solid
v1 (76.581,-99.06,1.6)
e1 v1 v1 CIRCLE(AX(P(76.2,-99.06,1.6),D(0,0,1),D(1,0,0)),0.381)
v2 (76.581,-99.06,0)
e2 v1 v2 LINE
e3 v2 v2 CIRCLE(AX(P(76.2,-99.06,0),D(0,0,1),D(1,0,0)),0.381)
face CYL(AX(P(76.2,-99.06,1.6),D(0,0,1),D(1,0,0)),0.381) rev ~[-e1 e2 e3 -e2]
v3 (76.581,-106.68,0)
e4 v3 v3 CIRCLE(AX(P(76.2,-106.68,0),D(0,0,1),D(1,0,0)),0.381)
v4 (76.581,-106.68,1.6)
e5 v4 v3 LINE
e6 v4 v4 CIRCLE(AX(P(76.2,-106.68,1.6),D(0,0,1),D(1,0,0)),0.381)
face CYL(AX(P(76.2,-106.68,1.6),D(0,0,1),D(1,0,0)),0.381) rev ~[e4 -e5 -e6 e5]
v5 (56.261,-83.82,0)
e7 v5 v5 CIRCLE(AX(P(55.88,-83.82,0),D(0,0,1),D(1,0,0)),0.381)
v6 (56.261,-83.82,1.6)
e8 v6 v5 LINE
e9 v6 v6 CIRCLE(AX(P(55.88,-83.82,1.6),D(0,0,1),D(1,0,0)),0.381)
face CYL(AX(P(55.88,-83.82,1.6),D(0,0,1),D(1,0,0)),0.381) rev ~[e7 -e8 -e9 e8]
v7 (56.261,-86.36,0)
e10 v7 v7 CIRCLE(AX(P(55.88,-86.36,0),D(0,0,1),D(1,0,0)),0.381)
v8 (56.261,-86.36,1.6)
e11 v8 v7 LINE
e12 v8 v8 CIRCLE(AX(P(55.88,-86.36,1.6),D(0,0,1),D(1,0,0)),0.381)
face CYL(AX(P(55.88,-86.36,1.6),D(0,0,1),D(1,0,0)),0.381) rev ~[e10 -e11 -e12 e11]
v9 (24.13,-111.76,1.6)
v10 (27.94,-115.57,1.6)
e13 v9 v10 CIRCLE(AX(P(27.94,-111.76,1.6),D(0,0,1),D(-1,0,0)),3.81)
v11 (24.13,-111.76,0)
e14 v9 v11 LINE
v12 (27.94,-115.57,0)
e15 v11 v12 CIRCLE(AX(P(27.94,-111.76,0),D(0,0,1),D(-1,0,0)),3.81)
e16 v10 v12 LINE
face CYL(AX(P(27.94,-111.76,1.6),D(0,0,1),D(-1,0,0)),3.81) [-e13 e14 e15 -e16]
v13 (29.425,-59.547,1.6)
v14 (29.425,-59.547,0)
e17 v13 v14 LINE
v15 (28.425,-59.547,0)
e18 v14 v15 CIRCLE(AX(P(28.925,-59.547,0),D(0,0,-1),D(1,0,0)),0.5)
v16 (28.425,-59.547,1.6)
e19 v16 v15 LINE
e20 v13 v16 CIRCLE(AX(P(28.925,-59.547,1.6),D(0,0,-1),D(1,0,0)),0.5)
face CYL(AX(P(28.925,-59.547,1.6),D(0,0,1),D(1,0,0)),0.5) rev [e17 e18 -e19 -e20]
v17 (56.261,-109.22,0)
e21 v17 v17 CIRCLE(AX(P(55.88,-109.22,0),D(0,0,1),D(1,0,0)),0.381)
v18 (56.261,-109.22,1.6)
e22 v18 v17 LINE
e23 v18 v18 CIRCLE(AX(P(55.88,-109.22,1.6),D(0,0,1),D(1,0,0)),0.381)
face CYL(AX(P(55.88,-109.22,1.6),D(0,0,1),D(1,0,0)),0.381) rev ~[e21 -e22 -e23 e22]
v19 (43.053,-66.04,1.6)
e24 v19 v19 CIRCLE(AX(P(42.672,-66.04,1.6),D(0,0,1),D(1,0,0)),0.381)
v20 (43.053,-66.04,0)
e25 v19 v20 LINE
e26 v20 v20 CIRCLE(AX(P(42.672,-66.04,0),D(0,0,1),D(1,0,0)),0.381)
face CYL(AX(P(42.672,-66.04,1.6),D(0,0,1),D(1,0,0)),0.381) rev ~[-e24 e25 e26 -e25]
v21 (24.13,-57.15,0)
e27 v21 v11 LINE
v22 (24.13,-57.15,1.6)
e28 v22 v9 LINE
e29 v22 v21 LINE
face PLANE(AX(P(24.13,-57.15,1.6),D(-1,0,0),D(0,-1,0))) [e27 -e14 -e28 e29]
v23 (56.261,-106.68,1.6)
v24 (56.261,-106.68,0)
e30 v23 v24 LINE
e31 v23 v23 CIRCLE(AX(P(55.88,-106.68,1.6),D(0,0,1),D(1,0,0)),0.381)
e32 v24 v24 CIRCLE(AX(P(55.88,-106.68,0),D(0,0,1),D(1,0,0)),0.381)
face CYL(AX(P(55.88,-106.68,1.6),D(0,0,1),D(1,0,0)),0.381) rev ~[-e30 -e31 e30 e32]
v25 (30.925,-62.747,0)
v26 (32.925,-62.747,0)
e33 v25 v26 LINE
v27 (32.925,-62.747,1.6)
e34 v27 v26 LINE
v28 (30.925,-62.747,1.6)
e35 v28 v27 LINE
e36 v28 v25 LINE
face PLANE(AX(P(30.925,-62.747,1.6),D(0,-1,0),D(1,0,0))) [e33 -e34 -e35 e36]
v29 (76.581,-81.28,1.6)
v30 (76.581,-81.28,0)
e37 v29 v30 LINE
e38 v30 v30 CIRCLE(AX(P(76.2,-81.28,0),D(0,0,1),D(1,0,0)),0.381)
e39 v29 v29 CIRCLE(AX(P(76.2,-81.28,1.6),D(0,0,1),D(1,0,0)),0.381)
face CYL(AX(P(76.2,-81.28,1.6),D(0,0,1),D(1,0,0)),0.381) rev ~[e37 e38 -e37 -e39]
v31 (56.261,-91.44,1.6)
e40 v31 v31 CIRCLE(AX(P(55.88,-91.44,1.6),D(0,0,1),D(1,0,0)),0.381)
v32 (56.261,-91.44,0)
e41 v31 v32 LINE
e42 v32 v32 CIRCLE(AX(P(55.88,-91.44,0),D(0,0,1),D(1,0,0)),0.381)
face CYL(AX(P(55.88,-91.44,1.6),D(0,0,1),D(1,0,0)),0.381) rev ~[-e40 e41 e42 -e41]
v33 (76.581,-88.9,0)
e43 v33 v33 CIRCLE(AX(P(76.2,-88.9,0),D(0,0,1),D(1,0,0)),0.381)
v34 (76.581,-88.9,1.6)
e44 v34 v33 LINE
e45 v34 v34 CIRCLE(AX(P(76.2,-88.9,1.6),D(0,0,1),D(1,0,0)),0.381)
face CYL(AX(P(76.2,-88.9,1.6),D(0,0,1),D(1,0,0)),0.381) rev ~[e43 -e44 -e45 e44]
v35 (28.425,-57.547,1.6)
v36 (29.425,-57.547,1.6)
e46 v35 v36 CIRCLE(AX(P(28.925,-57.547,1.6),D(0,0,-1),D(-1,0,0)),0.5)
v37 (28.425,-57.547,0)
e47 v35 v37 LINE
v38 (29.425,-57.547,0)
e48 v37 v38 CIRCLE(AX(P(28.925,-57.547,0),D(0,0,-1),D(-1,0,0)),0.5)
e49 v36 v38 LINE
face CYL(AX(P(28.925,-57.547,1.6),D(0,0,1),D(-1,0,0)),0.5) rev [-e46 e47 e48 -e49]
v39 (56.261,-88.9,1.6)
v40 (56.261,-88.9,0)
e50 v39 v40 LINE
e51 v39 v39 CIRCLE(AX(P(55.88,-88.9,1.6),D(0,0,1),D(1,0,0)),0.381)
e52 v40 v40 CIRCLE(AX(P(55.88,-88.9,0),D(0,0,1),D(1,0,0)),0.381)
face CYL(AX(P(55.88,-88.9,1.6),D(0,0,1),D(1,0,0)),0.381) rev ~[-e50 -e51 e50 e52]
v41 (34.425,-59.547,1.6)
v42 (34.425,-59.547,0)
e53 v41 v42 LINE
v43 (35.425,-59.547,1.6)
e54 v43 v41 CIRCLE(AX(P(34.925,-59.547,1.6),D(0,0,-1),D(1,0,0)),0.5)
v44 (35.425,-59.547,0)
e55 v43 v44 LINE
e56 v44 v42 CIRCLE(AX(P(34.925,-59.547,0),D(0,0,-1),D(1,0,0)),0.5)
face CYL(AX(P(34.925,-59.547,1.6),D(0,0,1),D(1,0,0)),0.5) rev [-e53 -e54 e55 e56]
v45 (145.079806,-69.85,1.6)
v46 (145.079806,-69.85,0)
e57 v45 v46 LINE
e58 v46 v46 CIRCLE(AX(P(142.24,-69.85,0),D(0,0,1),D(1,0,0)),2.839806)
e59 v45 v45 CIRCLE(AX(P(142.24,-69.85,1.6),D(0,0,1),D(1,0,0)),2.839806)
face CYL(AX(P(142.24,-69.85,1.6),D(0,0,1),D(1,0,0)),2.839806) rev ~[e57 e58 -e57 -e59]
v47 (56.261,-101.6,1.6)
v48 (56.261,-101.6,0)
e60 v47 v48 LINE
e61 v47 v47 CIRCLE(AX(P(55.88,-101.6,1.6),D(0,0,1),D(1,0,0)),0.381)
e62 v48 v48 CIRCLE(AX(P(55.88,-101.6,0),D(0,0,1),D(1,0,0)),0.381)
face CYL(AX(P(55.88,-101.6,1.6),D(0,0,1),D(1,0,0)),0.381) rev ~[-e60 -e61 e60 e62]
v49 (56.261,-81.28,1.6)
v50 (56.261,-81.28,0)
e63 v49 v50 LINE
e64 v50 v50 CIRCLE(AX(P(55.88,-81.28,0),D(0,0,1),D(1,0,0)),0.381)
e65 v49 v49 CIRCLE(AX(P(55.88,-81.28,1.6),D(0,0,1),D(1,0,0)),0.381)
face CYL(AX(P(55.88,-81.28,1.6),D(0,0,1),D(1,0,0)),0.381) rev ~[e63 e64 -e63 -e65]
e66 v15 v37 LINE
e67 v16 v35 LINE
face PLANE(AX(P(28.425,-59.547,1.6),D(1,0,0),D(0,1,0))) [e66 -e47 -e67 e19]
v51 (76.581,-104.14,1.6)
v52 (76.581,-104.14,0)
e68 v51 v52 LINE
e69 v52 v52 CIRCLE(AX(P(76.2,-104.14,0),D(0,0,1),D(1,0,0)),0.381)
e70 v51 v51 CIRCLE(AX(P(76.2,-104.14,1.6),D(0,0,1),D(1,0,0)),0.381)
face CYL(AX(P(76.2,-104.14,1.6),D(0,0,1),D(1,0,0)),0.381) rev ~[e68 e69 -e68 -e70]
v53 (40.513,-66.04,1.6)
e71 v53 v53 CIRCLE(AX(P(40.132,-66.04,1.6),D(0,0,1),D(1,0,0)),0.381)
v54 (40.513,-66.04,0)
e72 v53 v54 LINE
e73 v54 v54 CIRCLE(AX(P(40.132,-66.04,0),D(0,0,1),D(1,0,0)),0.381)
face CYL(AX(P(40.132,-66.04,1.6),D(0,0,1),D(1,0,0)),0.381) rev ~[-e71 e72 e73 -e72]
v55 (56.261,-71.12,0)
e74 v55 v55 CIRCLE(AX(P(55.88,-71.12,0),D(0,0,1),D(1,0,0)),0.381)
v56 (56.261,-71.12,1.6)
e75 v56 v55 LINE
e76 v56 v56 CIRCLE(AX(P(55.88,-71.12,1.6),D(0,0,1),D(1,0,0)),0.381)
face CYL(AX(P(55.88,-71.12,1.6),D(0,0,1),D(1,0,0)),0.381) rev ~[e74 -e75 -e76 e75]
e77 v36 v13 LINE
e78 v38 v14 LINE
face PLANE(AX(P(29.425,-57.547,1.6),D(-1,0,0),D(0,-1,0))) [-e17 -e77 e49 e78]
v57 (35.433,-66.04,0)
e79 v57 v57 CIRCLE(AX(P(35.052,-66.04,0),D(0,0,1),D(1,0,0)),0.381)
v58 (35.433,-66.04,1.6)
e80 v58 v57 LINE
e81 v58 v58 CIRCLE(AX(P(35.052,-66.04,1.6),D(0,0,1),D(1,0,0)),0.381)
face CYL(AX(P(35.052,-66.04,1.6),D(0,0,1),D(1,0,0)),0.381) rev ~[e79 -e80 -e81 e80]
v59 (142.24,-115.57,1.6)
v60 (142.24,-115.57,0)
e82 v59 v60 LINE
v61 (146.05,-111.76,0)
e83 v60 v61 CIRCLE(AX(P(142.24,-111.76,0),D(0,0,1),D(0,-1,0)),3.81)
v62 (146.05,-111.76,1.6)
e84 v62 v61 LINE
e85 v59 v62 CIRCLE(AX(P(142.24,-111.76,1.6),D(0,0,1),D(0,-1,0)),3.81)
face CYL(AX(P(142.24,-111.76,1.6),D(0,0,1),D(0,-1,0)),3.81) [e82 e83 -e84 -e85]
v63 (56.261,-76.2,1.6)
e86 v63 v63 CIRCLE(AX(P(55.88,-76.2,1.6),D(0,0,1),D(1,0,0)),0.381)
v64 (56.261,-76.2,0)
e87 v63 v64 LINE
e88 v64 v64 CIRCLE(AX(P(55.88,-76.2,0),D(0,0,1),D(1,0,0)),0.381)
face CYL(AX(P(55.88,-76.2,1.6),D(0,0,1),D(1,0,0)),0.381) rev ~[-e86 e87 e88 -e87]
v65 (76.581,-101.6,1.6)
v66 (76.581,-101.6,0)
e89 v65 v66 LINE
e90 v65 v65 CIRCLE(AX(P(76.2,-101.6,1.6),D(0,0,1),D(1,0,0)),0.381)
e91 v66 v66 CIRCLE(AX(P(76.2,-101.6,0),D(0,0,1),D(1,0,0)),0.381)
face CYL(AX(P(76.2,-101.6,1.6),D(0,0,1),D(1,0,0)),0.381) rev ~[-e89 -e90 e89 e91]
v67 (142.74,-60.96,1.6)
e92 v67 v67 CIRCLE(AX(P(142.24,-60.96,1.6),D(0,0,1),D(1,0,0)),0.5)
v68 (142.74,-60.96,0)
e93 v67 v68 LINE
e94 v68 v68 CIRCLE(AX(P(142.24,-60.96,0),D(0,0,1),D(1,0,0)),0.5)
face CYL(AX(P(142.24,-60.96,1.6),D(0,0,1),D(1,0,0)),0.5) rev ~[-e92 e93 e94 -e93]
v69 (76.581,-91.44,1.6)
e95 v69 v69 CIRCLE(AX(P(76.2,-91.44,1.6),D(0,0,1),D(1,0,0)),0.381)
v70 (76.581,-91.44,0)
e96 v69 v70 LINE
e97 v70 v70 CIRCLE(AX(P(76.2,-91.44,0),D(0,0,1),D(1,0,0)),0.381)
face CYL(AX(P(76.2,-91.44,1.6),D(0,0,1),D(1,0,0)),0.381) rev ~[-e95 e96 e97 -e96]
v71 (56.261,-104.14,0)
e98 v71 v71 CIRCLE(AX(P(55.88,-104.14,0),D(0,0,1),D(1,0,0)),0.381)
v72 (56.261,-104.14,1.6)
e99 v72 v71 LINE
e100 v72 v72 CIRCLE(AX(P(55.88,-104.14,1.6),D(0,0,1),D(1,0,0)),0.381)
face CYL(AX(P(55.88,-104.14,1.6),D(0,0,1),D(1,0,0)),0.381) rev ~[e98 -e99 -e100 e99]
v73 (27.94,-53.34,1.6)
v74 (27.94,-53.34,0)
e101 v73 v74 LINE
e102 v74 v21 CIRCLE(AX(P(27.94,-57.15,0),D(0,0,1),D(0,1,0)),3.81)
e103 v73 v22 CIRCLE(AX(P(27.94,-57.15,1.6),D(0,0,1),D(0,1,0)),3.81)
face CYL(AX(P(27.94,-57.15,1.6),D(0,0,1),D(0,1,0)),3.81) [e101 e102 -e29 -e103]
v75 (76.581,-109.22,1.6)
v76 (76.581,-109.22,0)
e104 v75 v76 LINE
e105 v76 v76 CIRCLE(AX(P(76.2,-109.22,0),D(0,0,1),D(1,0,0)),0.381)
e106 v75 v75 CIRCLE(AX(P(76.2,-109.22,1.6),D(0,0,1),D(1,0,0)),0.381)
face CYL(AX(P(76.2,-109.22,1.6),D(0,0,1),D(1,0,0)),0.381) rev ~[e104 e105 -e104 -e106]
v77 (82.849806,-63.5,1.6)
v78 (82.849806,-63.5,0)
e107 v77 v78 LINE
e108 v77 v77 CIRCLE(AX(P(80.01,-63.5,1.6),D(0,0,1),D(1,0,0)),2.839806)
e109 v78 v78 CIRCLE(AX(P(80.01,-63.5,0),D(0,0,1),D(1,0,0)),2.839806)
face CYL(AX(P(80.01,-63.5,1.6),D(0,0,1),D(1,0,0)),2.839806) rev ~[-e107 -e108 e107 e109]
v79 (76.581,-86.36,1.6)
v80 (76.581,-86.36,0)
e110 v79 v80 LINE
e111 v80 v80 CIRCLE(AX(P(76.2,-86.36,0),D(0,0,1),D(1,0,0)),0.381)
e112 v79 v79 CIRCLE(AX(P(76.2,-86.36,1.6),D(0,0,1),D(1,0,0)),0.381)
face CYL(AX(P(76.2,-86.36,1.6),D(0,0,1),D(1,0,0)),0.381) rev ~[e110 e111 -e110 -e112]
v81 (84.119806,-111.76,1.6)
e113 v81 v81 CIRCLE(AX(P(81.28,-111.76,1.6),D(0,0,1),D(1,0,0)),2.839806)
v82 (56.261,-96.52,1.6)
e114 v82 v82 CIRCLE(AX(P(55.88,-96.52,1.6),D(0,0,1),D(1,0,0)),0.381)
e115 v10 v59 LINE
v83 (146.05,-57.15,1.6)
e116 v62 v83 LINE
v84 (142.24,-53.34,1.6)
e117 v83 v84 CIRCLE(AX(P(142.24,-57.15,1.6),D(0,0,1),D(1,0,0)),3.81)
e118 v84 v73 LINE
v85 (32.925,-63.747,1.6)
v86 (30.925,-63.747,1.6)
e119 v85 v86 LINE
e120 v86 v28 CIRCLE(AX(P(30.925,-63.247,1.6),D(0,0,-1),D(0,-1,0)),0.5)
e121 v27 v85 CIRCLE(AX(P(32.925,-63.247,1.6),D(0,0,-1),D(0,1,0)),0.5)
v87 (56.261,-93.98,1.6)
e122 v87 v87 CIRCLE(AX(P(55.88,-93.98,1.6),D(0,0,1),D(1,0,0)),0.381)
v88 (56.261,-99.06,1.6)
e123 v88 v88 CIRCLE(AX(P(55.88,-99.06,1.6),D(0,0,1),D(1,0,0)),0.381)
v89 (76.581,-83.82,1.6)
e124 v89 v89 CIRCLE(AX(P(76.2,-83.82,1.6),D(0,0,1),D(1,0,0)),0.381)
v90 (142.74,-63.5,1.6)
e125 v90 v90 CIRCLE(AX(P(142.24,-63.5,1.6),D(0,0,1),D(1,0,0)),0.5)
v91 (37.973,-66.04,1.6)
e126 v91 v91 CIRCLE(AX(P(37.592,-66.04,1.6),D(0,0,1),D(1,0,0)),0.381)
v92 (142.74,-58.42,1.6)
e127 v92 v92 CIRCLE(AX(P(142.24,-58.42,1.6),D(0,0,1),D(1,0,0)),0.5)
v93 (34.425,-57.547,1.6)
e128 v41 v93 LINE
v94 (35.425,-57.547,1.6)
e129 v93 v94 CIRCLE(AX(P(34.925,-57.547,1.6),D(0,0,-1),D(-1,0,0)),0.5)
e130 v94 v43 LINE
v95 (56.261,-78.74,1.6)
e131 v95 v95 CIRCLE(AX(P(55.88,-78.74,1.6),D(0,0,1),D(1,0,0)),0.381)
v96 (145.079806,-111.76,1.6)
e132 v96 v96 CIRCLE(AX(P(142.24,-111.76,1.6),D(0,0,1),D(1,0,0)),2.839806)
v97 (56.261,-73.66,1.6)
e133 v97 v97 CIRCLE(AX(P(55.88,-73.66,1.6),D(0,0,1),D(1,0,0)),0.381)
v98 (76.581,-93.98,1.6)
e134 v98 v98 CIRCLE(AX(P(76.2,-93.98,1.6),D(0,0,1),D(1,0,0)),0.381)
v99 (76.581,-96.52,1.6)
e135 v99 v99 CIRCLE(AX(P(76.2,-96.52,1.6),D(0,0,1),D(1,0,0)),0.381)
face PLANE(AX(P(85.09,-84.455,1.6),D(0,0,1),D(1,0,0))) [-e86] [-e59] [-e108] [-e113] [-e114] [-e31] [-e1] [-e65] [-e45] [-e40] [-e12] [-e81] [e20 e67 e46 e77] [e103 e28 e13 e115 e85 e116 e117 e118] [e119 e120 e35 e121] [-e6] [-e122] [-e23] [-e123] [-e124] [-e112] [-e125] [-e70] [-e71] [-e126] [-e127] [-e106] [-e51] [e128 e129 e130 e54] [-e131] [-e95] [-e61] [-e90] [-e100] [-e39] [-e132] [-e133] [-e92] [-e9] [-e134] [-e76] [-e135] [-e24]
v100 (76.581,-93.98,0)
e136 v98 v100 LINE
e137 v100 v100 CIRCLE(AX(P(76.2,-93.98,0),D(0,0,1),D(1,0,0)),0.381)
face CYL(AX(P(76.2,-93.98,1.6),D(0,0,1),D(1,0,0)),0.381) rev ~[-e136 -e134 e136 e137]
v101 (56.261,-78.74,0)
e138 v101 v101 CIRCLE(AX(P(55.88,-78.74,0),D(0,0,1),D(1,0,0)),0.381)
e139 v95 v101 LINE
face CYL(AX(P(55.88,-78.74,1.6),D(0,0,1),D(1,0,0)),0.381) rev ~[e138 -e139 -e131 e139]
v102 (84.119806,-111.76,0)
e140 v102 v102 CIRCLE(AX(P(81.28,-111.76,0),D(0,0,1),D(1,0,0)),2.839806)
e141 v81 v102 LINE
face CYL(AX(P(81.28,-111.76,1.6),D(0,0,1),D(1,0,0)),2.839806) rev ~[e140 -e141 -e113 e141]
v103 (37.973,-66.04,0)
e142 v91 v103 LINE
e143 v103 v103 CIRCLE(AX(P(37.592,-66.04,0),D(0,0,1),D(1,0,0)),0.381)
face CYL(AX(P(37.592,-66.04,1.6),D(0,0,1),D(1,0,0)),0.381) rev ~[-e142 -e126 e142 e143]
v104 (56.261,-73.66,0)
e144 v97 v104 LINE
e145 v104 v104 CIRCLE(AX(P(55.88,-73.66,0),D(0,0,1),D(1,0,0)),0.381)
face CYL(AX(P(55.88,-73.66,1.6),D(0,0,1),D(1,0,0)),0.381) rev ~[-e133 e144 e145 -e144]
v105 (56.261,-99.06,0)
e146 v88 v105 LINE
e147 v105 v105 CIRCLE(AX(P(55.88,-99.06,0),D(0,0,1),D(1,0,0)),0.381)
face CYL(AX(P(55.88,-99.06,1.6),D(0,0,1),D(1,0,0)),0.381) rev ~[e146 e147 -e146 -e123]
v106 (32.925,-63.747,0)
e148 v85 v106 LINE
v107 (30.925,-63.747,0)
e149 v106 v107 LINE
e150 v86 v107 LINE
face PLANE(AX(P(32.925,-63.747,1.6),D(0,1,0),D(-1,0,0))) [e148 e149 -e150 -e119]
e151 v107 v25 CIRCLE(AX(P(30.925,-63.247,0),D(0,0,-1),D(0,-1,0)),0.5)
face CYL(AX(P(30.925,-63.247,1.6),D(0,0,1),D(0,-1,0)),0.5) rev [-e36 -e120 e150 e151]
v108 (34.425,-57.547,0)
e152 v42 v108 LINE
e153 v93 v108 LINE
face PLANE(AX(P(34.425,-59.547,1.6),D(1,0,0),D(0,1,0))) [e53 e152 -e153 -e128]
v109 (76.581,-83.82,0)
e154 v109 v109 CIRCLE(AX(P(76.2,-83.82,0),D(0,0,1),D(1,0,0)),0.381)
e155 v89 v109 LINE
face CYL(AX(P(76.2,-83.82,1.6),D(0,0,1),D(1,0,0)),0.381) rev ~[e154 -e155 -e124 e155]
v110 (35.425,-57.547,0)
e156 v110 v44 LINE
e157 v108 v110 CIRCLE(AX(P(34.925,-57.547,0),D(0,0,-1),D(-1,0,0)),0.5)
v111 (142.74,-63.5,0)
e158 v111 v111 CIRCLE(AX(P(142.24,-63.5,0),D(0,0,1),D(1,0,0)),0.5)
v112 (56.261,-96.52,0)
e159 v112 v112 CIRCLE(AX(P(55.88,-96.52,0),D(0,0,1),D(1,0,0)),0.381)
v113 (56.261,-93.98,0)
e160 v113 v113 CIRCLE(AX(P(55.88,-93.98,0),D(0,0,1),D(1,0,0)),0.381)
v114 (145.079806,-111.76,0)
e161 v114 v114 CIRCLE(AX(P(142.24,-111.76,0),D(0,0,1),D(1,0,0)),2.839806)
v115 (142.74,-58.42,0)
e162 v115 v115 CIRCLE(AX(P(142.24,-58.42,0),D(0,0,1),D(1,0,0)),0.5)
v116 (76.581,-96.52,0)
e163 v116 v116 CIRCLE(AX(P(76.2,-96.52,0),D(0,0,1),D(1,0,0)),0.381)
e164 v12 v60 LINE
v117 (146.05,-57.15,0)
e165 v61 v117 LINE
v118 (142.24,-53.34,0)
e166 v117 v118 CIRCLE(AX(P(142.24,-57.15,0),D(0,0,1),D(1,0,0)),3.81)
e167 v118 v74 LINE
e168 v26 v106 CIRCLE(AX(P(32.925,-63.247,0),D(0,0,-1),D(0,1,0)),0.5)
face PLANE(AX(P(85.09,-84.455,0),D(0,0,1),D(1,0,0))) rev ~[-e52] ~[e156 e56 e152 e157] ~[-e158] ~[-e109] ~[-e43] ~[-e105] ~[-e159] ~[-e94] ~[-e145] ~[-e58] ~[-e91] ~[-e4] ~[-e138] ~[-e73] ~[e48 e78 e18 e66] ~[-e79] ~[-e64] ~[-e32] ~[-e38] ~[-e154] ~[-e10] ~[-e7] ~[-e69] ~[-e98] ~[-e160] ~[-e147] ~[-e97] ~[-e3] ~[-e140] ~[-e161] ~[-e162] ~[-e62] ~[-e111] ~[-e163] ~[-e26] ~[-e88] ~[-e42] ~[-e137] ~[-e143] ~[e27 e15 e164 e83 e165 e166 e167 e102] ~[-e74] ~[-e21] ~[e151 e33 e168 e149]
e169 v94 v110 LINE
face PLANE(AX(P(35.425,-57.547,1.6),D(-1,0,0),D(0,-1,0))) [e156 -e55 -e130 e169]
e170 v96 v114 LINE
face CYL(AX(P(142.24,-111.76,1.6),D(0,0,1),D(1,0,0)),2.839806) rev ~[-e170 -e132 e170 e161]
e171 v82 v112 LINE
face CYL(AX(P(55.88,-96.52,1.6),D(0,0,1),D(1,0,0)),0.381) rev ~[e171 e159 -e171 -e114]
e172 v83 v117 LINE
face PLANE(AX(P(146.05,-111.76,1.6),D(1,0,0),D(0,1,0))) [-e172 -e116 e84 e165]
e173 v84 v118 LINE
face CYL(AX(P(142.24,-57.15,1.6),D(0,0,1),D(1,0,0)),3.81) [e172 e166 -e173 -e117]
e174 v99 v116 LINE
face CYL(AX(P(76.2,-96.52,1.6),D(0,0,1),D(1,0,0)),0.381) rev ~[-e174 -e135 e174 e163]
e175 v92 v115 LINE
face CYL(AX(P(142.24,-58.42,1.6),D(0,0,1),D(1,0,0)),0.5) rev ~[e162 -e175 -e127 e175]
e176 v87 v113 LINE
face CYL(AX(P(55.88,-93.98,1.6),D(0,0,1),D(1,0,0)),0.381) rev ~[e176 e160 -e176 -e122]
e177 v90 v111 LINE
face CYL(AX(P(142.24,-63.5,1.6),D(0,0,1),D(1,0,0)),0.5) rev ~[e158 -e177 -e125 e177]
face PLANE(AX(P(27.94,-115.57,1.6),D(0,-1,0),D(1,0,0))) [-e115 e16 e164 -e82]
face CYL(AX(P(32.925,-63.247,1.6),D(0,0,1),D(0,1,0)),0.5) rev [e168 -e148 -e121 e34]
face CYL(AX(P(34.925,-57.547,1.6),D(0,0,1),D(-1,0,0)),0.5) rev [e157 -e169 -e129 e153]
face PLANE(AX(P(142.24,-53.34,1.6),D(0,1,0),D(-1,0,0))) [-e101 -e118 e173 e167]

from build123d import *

# Parameters (mm, degrees)
ESQUISSE1_R        = 0.381
ESQUISSE1_R_2      = 2.839806331
ESQUISSE1_R_3      = 0.5
BOSS_EXTRU_1_DEPTH = 1.6


with BuildPart() as part:
    # Esquisse1 → Boss.-Extru.1 (new body)
    with BuildSketch(Plane.XY.offset(1.6)):
        with BuildLine():
            Line((146.05, -111.76), (146.05, -57.15))
            ThreePointArc((146.05, -57.15), (144.934076836, -54.455923164), (142.24, -53.34))
            Line((142.24, -53.34), (27.94, -53.34))
            ThreePointArc((27.94, -53.34), (25.245923164, -54.455923164), (24.13, -57.15))
            Line((24.13, -57.15), (24.13, -111.76))
            ThreePointArc((24.13, -111.76), (25.245923164, -114.454076836), (27.94, -115.57))
            Line((27.94, -115.57), (142.24, -115.57))
            ThreePointArc((142.24, -115.57), (144.934076836, -114.454076836), (146.05, -111.76))
        make_face()
        with Locations((55.88, -109.22)):
            Circle(ESQUISSE1_R, mode=Mode.SUBTRACT)
        with Locations((55.88, -106.68)):
            Circle(ESQUISSE1_R, mode=Mode.SUBTRACT)
        with Locations((142.24, -111.76)):
            Circle(ESQUISSE1_R_2, mode=Mode.SUBTRACT)
        with Locations((81.28, -111.76)):
            Circle(ESQUISSE1_R_2, mode=Mode.SUBTRACT)
        with Locations((76.2, -106.68)):
            Circle(ESQUISSE1_R, mode=Mode.SUBTRACT)
        with Locations((76.2, -109.22)):
            Circle(ESQUISSE1_R, mode=Mode.SUBTRACT)
        with Locations((76.2, -104.14)):
            Circle(ESQUISSE1_R, mode=Mode.SUBTRACT)
        with Locations((55.88, -104.14)):
            Circle(ESQUISSE1_R, mode=Mode.SUBTRACT)
        with Locations((142.24, -58.42)):
            Circle(ESQUISSE1_R_3, mode=Mode.SUBTRACT)
        with Locations((142.24, -69.85)):
            Circle(ESQUISSE1_R_2, mode=Mode.SUBTRACT)
        with Locations((142.24, -60.96)):
            Circle(ESQUISSE1_R_3, mode=Mode.SUBTRACT)
        with Locations((142.24, -63.5)):
            Circle(ESQUISSE1_R_3, mode=Mode.SUBTRACT)
        with Locations((80.01, -63.5)):
            Circle(ESQUISSE1_R_2, mode=Mode.SUBTRACT)
        with Locations((55.88, -71.12)):
            Circle(ESQUISSE1_R, mode=Mode.SUBTRACT)
        with Locations((55.88, -73.66)):
            Circle(ESQUISSE1_R, mode=Mode.SUBTRACT)
        with Locations((55.88, -76.2)):
            Circle(ESQUISSE1_R, mode=Mode.SUBTRACT)
        with Locations((55.88, -78.74)):
            Circle(ESQUISSE1_R, mode=Mode.SUBTRACT)
        with Locations((42.672, -66.04)):
            Circle(ESQUISSE1_R, mode=Mode.SUBTRACT)
        with Locations((35.052, -66.04)):
            Circle(ESQUISSE1_R, mode=Mode.SUBTRACT)
        with Locations((37.592, -66.04)):
            Circle(ESQUISSE1_R, mode=Mode.SUBTRACT)
        with Locations((40.132, -66.04)):
            Circle(ESQUISSE1_R, mode=Mode.SUBTRACT)
        with Locations((76.2, -81.28)):
            Circle(ESQUISSE1_R, mode=Mode.SUBTRACT)
        with Locations((55.88, -81.28)):
            Circle(ESQUISSE1_R, mode=Mode.SUBTRACT)
        with Locations((76.2, -83.82)):
            Circle(ESQUISSE1_R, mode=Mode.SUBTRACT)
        with Locations((76.2, -86.36)):
            Circle(ESQUISSE1_R, mode=Mode.SUBTRACT)
        with Locations((76.2, -88.9)):
            Circle(ESQUISSE1_R, mode=Mode.SUBTRACT)
        with Locations((55.88, -86.36)):
            Circle(ESQUISSE1_R, mode=Mode.SUBTRACT)
        with Locations((55.88, -88.9)):
            Circle(ESQUISSE1_R, mode=Mode.SUBTRACT)
        with Locations((55.88, -83.82)):
            Circle(ESQUISSE1_R, mode=Mode.SUBTRACT)
        with Locations((76.2, -93.98)):
            Circle(ESQUISSE1_R, mode=Mode.SUBTRACT)
        with Locations((55.88, -93.98)):
            Circle(ESQUISSE1_R, mode=Mode.SUBTRACT)
        with Locations((76.2, -91.44)):
            Circle(ESQUISSE1_R, mode=Mode.SUBTRACT)
        with Locations((55.88, -91.44)):
            Circle(ESQUISSE1_R, mode=Mode.SUBTRACT)
        with Locations((76.2, -96.52)):
            Circle(ESQUISSE1_R, mode=Mode.SUBTRACT)
        with Locations((76.2, -99.06)):
            Circle(ESQUISSE1_R, mode=Mode.SUBTRACT)
        with Locations((76.2, -101.6)):
            Circle(ESQUISSE1_R, mode=Mode.SUBTRACT)
        with Locations((55.88, -101.6)):
            Circle(ESQUISSE1_R, mode=Mode.SUBTRACT)
        with Locations((55.88, -99.06)):
            Circle(ESQUISSE1_R, mode=Mode.SUBTRACT)
        with Locations((55.88, -96.52)):
            Circle(ESQUISSE1_R, mode=Mode.SUBTRACT)
        with BuildLine():
            Line((32.925, -63.747), (30.925, -63.747))
            ThreePointArc((30.925, -63.747), (30.425, -63.247), (30.925, -62.747))
            Line((30.925, -62.747), (32.925, -62.747))
            ThreePointArc((32.925, -62.747), (33.425, -63.247), (32.925, -63.747))
        make_face(mode=Mode.SUBTRACT)
        with BuildLine():
            Line((29.425, -57.547), (29.425, -59.547))
            ThreePointArc((29.425, -59.547), (28.925, -60.047), (28.425, -59.547))
            Line((28.425, -59.547), (28.425, -57.547))
            ThreePointArc((28.425, -57.547), (28.925, -57.047), (29.425, -57.547))
        make_face(mode=Mode.SUBTRACT)
        with BuildLine():
            Line((35.425, -57.547), (35.425, -59.547))
            ThreePointArc((35.425, -59.547), (34.925, -60.047), (34.425, -59.547))
            Line((34.425, -59.547), (34.425, -57.547))
            ThreePointArc((34.425, -57.547), (34.925, -57.047), (35.425, -57.547))
        make_face(mode=Mode.SUBTRACT)
    extrude(amount=-BOSS_EXTRU_1_DEPTH)


solid = part.part
